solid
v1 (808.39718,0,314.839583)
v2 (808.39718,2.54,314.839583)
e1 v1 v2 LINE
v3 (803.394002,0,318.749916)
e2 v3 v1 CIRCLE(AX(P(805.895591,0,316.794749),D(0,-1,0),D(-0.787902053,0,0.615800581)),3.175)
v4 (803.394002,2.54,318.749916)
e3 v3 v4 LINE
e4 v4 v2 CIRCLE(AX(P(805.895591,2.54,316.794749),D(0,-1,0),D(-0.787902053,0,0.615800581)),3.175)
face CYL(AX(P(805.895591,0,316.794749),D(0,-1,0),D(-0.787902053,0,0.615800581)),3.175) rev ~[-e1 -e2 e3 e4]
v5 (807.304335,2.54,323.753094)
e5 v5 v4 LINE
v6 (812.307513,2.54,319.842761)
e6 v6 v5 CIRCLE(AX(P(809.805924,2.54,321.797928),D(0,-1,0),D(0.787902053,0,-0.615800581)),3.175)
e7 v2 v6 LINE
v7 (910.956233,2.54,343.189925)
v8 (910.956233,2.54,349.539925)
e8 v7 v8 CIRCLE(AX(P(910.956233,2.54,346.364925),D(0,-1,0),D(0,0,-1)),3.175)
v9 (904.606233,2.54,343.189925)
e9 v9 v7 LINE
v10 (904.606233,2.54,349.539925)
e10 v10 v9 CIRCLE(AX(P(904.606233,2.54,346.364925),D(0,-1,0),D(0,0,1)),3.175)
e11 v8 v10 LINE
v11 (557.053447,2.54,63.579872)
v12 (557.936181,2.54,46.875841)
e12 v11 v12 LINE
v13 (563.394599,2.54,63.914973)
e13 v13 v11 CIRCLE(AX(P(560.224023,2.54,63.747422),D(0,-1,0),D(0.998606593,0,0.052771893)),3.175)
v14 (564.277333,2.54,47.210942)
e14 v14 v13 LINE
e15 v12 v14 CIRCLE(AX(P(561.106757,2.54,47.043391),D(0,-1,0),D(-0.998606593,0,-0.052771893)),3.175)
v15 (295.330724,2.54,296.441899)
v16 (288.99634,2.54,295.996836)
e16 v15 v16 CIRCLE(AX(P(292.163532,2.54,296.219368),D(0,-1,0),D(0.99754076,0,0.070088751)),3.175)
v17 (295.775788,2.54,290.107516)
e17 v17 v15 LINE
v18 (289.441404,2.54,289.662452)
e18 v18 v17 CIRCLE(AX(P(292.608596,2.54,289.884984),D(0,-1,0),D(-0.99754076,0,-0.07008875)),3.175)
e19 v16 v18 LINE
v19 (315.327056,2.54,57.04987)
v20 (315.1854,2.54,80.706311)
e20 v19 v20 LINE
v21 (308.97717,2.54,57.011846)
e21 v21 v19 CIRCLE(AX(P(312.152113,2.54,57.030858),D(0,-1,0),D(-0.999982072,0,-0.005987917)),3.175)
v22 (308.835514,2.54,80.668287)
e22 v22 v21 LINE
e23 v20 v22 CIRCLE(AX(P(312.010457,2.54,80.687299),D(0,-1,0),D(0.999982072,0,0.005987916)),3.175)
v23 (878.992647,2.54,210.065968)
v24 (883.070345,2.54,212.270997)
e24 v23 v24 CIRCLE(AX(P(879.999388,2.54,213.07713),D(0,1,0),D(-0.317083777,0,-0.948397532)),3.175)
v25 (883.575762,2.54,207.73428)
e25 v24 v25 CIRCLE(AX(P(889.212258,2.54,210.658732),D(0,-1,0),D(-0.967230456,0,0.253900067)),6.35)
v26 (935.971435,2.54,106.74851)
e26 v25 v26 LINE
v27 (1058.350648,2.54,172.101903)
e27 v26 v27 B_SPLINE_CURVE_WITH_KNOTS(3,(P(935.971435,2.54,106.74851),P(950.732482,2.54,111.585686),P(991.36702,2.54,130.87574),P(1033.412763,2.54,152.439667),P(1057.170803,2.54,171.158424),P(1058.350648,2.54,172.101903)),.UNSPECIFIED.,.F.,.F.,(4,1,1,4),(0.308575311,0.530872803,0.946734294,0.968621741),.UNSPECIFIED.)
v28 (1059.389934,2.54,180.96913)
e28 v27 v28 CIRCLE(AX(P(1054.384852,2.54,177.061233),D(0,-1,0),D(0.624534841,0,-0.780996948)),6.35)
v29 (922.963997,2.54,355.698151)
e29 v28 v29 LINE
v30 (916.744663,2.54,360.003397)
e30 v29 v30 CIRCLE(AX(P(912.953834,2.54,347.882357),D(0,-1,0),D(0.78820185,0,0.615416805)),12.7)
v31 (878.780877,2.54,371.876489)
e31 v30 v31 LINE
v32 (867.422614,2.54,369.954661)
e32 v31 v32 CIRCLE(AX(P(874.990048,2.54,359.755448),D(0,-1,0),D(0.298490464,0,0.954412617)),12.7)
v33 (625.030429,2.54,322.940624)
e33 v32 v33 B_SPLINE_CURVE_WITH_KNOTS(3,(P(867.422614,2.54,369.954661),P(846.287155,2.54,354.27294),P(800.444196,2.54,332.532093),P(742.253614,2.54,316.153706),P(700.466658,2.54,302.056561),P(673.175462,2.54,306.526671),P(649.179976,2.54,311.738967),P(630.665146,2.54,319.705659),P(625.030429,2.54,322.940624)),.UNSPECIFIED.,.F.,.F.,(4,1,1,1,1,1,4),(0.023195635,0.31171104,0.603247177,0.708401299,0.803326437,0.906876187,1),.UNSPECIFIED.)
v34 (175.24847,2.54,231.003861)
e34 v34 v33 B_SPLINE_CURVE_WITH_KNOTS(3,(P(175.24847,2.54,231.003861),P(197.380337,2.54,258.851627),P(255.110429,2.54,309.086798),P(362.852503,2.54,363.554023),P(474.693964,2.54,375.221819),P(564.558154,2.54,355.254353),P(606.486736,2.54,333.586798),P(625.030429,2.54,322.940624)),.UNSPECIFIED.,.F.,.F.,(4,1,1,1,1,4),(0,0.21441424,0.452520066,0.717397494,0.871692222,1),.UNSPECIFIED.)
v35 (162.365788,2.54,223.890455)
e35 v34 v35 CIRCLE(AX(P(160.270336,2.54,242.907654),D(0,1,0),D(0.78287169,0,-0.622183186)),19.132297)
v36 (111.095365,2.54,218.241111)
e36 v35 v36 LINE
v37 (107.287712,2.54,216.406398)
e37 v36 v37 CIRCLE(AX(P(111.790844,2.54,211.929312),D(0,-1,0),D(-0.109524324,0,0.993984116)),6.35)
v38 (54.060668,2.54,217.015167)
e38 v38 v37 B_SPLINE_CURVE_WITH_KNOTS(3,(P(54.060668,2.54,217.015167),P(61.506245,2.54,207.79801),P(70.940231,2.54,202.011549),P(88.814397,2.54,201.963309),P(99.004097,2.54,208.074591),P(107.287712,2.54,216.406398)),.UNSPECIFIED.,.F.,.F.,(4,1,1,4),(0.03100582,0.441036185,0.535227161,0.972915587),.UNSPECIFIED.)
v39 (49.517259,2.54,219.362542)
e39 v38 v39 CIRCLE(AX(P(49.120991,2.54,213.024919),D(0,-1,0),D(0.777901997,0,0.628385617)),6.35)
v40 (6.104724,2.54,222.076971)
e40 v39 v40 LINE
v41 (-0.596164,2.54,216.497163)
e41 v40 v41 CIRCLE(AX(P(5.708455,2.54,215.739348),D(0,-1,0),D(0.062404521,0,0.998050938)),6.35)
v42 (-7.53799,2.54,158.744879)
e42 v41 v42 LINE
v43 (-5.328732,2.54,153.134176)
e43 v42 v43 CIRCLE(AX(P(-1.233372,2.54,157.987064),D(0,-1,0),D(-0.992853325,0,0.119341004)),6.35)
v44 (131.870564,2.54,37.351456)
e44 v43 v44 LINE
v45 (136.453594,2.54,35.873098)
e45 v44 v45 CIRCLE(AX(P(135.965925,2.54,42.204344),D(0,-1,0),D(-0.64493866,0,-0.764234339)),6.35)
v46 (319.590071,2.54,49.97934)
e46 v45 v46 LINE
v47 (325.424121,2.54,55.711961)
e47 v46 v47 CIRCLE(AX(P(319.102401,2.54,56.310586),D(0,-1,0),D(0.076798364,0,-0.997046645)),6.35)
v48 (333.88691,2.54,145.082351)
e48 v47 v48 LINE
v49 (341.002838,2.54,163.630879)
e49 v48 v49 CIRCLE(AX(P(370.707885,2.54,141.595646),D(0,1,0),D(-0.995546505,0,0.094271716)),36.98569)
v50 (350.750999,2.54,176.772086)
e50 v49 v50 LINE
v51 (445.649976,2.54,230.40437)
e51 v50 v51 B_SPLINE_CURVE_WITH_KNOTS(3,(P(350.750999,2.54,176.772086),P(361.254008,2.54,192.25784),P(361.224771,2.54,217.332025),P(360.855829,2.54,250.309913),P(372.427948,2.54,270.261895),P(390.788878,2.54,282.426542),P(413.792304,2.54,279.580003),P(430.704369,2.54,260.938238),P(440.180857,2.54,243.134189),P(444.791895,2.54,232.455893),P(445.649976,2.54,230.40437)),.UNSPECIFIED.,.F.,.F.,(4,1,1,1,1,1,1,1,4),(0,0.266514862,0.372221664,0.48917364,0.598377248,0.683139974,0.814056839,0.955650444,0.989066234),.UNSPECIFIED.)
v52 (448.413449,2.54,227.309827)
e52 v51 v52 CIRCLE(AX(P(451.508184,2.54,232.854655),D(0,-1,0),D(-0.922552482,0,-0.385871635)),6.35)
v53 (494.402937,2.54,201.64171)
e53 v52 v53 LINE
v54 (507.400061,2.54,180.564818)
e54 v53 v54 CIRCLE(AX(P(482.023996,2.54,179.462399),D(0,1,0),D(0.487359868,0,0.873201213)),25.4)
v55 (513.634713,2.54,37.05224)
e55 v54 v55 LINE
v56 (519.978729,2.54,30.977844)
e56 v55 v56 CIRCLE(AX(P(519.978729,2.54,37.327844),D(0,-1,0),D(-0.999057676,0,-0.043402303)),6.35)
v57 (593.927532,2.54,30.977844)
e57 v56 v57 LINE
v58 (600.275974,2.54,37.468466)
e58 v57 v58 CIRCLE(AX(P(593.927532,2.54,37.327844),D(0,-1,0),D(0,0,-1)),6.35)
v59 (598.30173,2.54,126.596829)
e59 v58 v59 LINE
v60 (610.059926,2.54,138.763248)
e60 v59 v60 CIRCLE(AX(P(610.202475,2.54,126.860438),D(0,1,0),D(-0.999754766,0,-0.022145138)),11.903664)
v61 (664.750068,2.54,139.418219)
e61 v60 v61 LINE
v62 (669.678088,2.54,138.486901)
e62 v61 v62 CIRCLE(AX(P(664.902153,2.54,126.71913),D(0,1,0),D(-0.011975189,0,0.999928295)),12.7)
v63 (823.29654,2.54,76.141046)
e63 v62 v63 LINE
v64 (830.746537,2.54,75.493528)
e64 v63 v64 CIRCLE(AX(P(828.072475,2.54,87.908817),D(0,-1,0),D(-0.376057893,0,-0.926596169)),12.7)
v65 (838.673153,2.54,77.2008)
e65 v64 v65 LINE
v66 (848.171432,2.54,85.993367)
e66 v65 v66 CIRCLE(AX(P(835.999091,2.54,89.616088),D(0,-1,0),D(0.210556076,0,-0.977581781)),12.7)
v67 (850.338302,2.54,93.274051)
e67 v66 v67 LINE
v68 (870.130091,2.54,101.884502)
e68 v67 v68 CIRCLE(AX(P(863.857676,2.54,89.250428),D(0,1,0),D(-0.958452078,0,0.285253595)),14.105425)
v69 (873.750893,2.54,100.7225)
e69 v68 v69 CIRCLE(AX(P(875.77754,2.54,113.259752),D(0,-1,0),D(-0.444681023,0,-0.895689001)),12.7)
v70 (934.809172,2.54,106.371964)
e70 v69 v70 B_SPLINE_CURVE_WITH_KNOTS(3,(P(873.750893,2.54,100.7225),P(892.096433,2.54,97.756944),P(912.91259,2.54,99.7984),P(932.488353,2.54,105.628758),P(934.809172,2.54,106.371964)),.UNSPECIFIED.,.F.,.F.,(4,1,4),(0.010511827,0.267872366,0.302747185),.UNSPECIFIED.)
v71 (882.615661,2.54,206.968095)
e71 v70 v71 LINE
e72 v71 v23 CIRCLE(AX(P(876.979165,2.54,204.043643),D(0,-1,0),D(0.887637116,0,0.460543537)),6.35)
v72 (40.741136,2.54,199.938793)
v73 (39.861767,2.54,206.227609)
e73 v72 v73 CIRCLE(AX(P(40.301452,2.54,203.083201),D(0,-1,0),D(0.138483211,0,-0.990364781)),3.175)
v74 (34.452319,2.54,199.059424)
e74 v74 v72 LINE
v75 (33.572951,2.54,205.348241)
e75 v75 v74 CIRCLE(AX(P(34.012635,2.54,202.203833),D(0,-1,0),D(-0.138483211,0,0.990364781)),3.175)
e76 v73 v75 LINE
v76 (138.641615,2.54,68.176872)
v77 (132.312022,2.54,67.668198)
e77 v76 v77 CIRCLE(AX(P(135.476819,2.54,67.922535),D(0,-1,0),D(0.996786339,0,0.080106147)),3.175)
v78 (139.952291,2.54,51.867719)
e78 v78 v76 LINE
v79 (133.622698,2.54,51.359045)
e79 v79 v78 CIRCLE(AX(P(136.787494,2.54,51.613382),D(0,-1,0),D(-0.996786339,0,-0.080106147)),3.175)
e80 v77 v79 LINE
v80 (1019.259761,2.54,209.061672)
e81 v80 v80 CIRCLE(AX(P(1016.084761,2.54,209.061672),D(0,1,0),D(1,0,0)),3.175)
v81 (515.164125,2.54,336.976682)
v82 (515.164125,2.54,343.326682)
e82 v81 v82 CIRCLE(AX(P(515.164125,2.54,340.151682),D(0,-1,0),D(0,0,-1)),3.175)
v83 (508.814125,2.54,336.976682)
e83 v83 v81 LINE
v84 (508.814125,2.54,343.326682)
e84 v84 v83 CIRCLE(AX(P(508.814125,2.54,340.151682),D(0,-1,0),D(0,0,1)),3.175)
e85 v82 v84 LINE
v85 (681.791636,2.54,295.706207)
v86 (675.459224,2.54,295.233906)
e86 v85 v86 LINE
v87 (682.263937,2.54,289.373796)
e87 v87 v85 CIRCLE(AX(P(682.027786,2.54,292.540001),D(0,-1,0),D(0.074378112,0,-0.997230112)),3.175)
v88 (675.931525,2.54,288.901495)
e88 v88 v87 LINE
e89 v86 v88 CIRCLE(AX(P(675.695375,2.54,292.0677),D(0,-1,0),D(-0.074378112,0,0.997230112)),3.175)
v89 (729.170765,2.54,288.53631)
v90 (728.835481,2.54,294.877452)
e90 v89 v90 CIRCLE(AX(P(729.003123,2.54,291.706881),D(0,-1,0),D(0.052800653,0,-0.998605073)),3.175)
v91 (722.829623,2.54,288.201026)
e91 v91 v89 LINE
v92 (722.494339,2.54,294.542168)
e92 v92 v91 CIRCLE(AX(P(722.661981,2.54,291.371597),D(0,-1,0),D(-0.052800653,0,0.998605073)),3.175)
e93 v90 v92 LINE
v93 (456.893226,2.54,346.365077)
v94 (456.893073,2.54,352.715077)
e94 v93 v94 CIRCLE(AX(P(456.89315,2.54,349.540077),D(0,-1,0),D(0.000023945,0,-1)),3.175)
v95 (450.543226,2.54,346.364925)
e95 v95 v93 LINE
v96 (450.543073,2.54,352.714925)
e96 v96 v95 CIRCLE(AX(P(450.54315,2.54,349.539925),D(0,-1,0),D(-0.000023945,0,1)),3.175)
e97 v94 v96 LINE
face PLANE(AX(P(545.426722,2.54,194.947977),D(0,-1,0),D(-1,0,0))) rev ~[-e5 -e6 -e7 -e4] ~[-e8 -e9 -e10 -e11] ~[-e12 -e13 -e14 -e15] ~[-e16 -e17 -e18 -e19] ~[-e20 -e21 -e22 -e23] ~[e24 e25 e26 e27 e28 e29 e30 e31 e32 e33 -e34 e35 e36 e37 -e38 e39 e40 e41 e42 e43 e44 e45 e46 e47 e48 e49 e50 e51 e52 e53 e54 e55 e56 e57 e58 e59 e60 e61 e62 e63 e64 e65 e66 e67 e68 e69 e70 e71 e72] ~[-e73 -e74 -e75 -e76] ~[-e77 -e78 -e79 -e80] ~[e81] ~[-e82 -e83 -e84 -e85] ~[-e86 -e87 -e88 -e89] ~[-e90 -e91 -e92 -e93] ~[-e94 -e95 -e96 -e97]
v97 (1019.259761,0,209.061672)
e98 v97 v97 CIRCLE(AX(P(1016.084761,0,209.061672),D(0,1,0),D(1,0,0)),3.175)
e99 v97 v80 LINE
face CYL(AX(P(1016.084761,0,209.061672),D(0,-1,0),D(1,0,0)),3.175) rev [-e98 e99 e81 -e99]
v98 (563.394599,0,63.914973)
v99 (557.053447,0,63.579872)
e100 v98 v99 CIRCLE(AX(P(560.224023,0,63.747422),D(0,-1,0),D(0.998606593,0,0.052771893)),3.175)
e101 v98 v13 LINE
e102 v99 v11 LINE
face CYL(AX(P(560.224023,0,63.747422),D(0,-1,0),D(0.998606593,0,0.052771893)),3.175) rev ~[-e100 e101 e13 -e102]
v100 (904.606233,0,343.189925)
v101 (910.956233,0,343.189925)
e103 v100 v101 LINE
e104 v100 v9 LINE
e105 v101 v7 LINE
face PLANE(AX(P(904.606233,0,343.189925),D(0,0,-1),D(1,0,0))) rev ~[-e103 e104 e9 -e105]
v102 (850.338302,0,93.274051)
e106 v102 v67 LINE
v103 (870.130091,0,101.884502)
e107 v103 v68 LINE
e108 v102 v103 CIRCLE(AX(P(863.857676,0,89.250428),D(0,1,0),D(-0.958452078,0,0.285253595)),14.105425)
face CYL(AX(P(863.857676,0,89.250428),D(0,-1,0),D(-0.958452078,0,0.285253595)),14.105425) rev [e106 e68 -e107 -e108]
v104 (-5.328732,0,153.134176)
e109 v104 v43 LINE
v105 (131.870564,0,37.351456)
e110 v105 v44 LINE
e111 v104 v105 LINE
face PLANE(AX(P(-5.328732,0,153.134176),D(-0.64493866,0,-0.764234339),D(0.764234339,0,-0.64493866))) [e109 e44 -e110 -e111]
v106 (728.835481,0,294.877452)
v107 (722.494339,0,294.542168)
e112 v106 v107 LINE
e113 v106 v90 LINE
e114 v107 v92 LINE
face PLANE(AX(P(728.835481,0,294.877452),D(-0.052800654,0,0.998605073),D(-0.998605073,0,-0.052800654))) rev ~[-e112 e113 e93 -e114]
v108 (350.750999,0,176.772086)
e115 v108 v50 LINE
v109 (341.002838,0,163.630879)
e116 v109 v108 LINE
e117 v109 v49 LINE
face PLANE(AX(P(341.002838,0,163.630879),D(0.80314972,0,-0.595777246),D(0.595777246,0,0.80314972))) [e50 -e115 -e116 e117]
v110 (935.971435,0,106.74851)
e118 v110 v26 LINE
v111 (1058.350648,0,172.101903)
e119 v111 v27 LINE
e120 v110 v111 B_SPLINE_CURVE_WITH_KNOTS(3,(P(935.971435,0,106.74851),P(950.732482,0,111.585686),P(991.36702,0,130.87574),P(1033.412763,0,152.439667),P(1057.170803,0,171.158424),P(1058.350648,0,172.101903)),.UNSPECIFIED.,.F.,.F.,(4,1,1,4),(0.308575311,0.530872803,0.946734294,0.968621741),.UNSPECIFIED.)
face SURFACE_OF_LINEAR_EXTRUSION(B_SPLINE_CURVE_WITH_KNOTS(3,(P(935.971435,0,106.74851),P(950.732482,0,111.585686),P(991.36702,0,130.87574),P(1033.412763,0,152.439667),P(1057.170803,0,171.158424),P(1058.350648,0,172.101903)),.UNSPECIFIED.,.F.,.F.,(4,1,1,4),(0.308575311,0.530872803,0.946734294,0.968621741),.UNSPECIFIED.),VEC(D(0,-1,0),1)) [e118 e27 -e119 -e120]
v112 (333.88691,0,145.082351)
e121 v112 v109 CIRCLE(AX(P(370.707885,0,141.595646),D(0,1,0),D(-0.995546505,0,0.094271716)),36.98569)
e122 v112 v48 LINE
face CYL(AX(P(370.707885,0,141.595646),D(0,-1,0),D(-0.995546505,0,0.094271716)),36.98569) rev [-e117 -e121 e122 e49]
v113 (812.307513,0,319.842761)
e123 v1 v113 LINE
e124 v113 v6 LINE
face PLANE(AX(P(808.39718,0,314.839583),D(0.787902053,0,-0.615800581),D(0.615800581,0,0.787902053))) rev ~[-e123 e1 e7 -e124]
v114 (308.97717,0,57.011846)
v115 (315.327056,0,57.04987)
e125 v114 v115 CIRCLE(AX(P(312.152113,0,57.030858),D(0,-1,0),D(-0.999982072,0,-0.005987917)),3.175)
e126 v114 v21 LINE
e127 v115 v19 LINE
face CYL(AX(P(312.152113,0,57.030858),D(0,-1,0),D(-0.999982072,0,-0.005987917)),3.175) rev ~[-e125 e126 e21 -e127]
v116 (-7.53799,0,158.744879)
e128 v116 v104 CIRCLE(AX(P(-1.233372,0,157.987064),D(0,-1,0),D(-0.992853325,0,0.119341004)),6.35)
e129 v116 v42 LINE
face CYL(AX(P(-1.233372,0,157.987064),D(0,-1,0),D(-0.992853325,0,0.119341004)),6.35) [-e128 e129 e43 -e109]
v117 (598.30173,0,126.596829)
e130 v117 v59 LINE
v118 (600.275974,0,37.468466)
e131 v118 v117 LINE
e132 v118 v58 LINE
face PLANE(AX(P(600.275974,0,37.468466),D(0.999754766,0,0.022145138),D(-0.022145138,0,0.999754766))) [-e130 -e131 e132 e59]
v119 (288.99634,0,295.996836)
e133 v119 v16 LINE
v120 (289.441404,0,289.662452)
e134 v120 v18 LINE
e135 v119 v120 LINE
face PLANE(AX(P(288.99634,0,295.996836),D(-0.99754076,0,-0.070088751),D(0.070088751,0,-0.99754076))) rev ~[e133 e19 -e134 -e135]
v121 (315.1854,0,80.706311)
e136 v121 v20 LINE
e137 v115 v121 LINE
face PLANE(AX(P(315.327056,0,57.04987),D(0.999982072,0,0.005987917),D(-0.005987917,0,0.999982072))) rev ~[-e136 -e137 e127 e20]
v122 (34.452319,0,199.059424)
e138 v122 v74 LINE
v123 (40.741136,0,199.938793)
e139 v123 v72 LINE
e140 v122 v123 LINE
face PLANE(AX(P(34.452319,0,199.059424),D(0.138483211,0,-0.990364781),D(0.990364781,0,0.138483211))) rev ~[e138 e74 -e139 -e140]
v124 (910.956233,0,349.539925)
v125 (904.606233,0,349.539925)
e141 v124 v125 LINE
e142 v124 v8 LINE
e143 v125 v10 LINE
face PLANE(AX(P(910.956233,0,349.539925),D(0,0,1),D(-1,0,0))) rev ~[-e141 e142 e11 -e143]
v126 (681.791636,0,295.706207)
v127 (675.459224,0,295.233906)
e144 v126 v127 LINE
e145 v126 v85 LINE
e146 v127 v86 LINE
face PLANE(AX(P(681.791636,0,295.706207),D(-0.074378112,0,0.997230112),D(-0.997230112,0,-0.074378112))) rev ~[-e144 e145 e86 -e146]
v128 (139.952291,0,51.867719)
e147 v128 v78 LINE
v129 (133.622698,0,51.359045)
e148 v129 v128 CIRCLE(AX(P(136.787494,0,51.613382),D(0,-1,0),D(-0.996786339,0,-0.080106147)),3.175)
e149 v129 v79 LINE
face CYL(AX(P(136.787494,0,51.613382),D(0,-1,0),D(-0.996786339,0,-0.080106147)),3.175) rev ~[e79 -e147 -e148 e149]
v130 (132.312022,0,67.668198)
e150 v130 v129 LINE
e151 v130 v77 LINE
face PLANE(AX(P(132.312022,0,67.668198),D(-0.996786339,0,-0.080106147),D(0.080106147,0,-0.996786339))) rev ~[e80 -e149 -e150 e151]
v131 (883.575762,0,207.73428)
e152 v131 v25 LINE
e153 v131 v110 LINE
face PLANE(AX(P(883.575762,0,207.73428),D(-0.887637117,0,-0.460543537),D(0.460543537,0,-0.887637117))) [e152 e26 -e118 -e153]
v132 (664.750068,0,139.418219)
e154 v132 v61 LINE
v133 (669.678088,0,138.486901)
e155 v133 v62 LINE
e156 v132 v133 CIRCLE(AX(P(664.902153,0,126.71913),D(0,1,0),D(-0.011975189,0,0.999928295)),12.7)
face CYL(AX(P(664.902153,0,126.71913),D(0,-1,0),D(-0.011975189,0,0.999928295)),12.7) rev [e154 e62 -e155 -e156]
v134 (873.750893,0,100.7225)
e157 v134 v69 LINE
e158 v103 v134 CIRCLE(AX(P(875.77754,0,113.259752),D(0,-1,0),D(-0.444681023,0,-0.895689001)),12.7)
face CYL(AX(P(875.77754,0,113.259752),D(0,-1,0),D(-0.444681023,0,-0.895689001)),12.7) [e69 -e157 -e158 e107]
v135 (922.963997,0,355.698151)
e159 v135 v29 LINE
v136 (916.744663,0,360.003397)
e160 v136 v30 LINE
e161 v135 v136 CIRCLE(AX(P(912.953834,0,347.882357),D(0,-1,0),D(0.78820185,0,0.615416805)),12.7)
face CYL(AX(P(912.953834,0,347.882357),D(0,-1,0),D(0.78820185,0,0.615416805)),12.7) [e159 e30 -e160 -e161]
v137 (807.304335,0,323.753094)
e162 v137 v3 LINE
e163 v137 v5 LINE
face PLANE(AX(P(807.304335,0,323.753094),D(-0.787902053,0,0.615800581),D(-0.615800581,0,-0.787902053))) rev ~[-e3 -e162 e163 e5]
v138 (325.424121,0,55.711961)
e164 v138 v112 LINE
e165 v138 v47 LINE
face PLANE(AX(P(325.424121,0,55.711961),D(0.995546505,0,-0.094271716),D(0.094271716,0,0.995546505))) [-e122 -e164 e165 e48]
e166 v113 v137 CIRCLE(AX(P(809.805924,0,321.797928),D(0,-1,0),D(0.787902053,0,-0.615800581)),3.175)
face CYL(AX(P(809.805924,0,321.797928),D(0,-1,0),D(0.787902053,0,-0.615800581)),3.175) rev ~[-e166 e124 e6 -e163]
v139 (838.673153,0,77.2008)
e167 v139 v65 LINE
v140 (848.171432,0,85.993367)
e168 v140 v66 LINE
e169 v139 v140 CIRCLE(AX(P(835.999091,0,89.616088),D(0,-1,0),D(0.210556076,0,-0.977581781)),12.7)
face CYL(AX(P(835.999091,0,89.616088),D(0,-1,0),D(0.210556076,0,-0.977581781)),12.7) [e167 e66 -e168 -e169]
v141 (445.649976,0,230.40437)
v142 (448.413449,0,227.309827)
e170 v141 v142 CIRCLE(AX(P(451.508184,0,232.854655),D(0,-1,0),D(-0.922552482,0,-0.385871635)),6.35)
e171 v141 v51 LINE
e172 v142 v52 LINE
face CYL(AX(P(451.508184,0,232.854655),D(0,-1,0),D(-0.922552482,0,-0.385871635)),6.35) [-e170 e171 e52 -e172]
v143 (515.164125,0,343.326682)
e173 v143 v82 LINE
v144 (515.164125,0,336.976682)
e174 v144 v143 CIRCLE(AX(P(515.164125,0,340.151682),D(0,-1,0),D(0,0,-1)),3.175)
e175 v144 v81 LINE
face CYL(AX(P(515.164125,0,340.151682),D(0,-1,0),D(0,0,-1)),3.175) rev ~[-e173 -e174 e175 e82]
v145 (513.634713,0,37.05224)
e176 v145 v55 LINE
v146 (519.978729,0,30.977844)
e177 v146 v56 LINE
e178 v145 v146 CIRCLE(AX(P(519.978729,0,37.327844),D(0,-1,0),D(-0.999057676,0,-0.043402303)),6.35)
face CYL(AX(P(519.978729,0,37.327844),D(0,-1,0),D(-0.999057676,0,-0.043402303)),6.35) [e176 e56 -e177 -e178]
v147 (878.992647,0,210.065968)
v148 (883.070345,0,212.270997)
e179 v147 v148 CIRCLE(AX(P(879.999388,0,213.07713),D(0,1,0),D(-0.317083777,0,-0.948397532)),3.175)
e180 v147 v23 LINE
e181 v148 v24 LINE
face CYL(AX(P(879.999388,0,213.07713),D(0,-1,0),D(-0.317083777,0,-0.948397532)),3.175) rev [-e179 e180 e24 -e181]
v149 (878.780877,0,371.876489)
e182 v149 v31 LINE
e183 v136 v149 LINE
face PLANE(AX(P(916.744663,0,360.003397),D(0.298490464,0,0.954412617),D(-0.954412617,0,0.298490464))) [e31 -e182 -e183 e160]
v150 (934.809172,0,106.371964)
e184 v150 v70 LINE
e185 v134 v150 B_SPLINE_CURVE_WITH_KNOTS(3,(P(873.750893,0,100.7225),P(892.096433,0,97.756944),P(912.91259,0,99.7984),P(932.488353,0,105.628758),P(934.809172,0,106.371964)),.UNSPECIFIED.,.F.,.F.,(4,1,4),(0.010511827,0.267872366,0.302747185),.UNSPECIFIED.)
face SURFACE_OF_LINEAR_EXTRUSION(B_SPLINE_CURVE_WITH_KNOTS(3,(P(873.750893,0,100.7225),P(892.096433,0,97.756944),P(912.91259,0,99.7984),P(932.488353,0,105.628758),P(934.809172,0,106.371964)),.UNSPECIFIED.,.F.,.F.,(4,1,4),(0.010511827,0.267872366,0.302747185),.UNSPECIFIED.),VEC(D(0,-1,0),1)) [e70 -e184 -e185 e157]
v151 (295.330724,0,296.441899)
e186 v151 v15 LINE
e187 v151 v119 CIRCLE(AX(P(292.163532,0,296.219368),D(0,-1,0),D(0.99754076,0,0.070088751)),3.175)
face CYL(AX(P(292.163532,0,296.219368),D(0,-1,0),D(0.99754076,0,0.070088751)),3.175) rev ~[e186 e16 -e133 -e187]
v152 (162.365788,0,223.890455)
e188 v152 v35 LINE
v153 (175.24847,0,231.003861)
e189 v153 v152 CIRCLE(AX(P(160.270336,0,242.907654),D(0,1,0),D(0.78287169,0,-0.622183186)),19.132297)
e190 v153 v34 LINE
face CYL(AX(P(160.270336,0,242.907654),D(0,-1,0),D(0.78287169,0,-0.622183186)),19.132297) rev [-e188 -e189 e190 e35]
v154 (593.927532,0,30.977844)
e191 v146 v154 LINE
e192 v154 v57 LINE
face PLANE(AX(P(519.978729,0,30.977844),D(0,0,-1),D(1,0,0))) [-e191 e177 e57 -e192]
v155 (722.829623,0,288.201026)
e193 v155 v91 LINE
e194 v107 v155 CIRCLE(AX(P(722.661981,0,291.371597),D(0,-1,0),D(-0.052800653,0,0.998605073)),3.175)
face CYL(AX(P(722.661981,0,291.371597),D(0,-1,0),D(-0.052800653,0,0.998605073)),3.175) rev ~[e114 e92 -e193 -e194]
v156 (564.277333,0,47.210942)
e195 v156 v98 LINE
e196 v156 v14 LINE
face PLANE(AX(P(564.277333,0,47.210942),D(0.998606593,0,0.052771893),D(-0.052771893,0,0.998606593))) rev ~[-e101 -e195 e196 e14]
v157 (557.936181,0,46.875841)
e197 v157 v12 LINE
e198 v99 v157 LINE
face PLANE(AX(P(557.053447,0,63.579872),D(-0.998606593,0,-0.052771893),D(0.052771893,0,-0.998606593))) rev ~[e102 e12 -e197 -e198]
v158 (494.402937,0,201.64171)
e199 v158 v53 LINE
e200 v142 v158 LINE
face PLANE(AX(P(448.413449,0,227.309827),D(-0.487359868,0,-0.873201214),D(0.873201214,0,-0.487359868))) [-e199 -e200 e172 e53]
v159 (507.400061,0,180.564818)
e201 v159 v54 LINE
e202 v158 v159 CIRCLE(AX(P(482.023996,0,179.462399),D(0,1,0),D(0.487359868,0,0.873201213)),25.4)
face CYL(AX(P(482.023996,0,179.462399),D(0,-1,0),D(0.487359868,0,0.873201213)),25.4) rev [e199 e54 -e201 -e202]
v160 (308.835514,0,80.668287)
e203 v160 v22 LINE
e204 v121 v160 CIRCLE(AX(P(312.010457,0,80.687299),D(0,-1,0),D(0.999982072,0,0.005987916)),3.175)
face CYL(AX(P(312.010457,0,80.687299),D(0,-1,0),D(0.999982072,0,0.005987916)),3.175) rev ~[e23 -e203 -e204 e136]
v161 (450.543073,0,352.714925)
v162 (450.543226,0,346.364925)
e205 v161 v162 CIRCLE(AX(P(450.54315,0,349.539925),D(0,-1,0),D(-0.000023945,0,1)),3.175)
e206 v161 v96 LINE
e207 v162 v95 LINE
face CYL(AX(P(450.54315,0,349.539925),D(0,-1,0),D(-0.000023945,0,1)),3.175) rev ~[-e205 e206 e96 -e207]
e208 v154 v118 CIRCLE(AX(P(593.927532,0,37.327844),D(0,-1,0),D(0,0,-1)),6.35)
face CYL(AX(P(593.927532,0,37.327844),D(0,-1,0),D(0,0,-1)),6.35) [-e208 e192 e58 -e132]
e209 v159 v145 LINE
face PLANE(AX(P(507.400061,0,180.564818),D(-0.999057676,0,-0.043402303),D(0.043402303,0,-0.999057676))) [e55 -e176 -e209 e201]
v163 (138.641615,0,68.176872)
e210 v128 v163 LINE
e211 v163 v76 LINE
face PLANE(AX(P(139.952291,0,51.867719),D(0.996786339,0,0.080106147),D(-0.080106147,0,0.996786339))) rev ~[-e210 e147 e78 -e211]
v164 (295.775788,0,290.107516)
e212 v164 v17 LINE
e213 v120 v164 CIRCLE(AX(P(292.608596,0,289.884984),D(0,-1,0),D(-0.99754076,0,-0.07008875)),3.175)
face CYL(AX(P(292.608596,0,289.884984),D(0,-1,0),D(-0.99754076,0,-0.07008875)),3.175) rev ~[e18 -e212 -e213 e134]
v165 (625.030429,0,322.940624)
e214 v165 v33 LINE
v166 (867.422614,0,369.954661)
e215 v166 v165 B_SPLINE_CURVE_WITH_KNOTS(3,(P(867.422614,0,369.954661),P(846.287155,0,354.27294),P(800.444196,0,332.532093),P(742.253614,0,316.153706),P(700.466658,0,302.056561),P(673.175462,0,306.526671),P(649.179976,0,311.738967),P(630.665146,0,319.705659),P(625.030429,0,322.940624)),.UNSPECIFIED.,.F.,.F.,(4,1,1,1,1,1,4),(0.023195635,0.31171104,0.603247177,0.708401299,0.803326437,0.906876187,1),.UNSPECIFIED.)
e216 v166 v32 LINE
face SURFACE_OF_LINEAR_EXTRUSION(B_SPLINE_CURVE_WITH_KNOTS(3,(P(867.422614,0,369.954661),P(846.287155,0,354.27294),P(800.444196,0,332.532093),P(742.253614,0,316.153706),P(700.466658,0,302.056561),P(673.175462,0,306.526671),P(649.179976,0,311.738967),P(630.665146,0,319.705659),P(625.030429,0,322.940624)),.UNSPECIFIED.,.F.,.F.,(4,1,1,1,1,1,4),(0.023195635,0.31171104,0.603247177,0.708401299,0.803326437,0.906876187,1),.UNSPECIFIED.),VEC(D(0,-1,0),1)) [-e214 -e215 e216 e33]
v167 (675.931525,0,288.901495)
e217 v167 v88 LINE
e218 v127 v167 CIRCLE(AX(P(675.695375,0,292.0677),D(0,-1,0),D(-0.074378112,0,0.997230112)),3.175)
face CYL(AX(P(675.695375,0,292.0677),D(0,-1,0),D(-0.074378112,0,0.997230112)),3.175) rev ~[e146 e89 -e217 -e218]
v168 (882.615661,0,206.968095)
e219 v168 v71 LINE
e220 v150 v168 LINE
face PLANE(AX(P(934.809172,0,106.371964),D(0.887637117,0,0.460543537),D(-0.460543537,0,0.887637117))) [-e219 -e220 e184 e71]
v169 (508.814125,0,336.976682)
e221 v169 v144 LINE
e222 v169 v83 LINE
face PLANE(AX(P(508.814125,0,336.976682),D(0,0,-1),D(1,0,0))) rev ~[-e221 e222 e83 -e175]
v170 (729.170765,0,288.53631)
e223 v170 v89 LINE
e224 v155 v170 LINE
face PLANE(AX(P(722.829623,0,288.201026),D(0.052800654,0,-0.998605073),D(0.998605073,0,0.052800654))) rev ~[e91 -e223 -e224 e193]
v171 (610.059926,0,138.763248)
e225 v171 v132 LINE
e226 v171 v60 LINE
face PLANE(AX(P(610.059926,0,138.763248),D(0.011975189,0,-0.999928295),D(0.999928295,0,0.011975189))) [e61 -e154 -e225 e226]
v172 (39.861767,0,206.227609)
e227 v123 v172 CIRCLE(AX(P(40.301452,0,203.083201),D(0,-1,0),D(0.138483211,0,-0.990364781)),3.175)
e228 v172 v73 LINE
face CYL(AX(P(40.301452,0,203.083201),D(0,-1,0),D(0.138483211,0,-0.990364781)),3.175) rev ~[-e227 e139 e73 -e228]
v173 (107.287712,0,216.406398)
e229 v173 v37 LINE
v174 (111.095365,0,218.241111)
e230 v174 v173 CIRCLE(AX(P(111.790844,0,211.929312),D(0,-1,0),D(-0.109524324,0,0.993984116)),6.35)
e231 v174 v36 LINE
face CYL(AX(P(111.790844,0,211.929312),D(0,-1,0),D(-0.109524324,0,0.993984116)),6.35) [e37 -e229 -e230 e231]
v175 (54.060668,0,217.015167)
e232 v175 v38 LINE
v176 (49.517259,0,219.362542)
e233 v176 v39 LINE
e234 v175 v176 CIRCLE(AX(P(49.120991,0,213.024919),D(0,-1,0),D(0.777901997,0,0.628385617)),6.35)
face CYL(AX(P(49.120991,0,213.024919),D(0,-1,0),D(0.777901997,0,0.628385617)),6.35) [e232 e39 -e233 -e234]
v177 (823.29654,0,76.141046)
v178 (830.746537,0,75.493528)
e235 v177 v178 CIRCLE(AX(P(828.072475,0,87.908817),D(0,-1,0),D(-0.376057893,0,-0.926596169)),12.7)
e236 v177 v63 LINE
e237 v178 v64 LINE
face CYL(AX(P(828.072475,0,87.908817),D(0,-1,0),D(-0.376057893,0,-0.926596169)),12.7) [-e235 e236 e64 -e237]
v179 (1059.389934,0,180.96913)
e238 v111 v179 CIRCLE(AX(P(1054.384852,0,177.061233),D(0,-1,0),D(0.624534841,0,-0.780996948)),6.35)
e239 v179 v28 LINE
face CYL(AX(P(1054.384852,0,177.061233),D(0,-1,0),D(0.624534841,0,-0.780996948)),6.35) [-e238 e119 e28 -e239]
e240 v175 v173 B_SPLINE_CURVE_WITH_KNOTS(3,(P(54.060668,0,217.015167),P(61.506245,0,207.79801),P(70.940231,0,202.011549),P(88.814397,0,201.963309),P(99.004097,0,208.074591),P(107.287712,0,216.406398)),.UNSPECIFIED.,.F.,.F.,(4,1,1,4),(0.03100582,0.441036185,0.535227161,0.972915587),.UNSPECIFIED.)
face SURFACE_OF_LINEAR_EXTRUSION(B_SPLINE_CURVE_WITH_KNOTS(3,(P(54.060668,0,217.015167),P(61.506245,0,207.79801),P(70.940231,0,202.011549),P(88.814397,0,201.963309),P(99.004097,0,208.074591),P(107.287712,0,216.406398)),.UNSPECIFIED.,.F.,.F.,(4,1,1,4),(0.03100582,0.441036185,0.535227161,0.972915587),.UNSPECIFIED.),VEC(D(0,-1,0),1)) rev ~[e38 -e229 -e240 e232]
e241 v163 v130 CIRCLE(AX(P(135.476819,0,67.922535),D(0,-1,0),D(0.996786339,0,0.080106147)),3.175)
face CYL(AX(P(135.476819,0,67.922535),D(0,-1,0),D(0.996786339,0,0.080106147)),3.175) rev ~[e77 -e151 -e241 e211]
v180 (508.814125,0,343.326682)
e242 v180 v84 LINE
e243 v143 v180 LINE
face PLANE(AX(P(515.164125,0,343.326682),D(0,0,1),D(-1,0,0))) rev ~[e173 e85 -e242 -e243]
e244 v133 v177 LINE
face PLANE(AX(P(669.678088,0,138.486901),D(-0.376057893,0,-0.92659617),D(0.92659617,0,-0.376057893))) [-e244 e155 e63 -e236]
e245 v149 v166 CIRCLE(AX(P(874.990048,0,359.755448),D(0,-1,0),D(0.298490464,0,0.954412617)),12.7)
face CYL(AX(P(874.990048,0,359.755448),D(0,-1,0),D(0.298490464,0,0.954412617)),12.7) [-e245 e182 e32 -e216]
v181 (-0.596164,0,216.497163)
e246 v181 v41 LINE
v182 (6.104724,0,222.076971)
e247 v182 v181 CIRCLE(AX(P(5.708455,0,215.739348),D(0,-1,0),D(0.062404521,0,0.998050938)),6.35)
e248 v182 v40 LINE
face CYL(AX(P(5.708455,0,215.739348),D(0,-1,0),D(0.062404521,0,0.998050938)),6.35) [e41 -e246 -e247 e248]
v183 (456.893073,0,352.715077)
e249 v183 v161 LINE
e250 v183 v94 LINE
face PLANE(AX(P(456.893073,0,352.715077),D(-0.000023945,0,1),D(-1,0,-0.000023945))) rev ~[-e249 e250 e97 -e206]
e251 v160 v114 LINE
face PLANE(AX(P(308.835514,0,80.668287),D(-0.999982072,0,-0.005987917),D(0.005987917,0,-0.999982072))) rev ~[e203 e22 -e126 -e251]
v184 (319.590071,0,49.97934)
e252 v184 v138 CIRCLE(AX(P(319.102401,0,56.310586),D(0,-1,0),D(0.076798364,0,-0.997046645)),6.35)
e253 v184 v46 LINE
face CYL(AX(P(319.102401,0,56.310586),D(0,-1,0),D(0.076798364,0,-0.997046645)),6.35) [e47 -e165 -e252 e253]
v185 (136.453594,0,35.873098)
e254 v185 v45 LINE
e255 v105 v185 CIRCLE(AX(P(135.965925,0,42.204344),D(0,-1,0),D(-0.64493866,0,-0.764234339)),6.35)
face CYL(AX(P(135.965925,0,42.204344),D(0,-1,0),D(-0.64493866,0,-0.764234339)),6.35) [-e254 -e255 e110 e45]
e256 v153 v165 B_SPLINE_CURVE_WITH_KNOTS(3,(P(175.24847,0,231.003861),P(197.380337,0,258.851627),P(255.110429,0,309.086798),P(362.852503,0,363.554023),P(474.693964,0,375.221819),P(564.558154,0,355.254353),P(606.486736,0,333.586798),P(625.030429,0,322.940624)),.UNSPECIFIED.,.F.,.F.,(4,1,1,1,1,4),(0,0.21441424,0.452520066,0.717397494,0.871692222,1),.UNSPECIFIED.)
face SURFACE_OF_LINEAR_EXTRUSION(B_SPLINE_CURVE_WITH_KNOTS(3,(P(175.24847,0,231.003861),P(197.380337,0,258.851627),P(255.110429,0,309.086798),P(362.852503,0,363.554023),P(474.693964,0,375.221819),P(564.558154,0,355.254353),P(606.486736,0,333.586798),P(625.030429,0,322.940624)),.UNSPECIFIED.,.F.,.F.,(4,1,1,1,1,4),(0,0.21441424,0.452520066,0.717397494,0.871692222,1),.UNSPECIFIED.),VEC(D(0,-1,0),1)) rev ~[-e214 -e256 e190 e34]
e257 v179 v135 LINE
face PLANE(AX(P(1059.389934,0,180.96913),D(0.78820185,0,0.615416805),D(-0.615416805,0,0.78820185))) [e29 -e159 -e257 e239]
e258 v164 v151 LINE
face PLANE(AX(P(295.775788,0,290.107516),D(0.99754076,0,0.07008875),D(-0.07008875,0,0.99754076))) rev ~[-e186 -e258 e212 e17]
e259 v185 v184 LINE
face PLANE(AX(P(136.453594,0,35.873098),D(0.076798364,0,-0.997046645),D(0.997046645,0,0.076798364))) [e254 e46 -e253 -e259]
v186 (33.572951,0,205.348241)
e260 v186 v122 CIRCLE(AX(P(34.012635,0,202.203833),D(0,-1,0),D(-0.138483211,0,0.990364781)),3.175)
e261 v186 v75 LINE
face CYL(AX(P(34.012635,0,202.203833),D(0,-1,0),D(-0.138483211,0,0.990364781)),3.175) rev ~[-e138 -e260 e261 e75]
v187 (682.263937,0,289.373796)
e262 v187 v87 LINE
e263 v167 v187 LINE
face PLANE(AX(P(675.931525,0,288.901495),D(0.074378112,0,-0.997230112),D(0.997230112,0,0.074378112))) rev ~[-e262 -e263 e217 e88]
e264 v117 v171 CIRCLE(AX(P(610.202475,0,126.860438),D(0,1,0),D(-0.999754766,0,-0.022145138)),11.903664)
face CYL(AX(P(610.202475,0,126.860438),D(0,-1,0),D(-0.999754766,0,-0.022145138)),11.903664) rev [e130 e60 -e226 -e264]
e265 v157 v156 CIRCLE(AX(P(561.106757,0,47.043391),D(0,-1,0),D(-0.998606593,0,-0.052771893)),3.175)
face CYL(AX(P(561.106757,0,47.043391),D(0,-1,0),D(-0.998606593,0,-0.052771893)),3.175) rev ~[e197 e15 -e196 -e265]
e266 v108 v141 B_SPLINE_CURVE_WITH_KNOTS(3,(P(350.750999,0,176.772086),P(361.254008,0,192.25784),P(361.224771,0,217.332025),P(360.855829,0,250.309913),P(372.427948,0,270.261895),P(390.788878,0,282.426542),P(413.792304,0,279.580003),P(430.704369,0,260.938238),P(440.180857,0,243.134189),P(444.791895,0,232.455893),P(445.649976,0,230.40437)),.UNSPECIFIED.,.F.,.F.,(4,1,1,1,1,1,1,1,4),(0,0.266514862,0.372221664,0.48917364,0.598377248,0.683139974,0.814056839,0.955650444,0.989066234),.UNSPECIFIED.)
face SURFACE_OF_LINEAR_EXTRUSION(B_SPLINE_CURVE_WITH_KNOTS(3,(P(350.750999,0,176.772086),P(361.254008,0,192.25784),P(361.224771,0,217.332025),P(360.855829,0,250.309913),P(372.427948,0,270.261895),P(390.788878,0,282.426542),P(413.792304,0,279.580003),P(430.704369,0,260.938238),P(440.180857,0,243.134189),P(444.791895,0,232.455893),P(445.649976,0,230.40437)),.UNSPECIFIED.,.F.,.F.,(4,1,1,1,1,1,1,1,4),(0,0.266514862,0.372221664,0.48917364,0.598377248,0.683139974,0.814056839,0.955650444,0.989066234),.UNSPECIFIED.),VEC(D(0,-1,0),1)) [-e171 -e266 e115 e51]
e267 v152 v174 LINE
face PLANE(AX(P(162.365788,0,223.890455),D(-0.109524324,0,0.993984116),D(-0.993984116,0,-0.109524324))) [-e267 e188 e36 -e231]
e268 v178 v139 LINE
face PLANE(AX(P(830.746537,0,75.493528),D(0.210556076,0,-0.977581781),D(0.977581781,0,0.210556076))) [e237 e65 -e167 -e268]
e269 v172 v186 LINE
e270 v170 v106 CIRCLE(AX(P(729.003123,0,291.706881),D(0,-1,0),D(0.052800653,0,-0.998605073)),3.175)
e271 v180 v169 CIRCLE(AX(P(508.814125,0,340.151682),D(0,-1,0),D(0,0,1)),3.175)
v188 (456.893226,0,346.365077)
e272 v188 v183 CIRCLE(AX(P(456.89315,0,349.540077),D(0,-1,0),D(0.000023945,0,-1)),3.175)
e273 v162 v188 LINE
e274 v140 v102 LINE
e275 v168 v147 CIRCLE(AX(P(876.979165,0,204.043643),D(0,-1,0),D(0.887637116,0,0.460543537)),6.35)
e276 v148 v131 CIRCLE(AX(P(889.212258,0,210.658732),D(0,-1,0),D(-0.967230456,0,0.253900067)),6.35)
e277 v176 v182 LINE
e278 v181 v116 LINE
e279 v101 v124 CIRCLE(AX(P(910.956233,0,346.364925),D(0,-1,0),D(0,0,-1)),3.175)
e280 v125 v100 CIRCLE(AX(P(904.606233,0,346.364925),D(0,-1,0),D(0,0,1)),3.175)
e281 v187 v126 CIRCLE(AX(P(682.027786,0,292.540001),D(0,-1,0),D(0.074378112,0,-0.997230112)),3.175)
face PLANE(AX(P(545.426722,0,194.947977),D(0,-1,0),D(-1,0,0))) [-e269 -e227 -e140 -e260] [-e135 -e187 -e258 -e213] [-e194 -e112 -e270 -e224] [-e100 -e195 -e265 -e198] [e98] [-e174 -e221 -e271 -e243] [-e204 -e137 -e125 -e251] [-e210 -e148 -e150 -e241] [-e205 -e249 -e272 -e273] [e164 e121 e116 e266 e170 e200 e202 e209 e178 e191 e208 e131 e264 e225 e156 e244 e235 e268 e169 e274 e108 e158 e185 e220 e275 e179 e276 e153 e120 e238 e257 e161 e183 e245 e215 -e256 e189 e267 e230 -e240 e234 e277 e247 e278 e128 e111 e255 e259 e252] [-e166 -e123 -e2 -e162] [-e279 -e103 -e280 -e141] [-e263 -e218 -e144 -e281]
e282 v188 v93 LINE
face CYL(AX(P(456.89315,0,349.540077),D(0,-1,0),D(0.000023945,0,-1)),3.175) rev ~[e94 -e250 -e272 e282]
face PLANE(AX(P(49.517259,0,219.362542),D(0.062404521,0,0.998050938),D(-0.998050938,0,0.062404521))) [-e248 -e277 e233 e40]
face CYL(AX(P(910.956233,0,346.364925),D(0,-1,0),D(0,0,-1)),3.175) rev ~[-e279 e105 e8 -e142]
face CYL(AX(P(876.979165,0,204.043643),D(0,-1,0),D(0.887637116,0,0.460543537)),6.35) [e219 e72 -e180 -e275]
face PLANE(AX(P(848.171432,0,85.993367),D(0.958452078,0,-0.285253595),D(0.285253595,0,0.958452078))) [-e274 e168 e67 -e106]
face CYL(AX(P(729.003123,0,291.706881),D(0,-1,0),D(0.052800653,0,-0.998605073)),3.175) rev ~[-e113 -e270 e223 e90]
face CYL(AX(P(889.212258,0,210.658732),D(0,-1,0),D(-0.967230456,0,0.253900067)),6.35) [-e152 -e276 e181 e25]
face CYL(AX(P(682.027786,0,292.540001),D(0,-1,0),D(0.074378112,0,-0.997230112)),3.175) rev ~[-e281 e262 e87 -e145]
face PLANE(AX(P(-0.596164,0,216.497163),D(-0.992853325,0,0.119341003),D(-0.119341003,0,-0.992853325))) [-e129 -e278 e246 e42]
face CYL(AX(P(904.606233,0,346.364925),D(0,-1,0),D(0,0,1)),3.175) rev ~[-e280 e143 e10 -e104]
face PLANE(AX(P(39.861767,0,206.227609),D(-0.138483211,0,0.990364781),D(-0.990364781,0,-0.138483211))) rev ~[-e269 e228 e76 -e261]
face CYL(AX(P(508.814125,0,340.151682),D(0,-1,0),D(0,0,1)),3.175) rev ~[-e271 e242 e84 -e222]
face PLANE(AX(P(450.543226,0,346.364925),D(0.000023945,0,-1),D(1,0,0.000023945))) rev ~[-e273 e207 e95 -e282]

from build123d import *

# Parameters (mm, degrees)
SKETCH1_R           = 3.175
BOSS_EXTRUDE1_DEPTH = 2.54


with BuildPart() as part:
    # Sketch1 → Boss-Extrude1 (new body)
    with BuildSketch(Plane(origin=(0, 0, 0), x_dir=(1, 0, 0), z_dir=(0, 1, 0))):
        with BuildLine():
            Line((-5.328732107, -153.134175754), (131.870564369, -37.351455769))
            ThreePointArc((131.870564369, -37.351455769), (134.01650339, -36.160979201), (136.453594472, -35.873097628))
            Line((136.453594472, -35.873097628), (319.590070529, -49.979340099))
            ThreePointArc((319.590070529, -49.979340099), (323.552983246, -51.781257759), (325.424121225, -55.711960892))
            Line((325.424121225, -55.711960892), (333.886910239, -145.082350554))
            ThreePointArc((333.886910239, -145.082350554), (336.176162445, -154.84334125), (341.002838156, -163.630878822))
            Line((341.002838156, -163.630878822), (350.750998724, -176.772086359))
            add(Edge.make_bspline(
                [(350.750998724, -176.772086359), (361.254007891, -192.257840243), (361.224771118, -217.332024569), (360.855829019, -250.309912971), (372.427947549, -270.261895133), (390.7888777, -282.426542016), (413.792303889, -279.580003461), (430.70436873, -260.938238037), (440.180857261, -243.134188782), (444.791894874, -232.455892984), (445.649975599, -230.404370069)],
                knots=[0, 0, 0, 0, 0.266514862, 0.372221664, 0.48917364, 0.598377248, 0.683139974, 0.814056839, 0.955650444, 0.989066234, 0.989066234, 0.989066234, 0.989066234], degree=3))
            ThreePointArc((445.649975599, -230.404370069), (446.771851121, -228.625038868), (448.413448697, -227.309827246))
            Line((448.413448697, -227.309827246), (494.402937053, -201.641710193))
            ThreePointArc((494.402937053, -201.641710193), (503.643870594, -192.794354978), (507.400061385, -180.564817875))
            Line((507.400061385, -180.564817875), (513.634712908, -37.052239756))
            ThreePointArc((513.634712908, -37.052239756), (515.587122917, -32.741310322), (519.978729151, -30.977844382))
            Line((519.978729151, -30.977844382), (593.927531637, -30.977844382))
            ThreePointArc((593.927531637, -30.977844382), (598.467104708, -32.887711914), (600.275974403, -37.468466009))
            Line((600.275974403, -37.468466009), (598.301730334, -126.596829392))
            ThreePointArc((598.301730334, -126.596829392), (601.642938503, -135.132773839), (610.059926064, -138.763247642))
            Line((610.059926064, -138.763247642), (664.750068331, -139.418219406))
            ThreePointArc((664.750068331, -139.418219406), (667.260507803, -139.198239153), (669.678088468, -138.486901414))
            Line((669.678088468, -138.486901414), (823.296539759, -76.141045752))
            ThreePointArc((823.296539759, -76.141045752), (826.972799017, -75.256516415), (830.746537158, -75.493528484))
            Line((830.746537158, -75.493528484), (838.673152681, -77.20079952))
            ThreePointArc((838.673152681, -77.20079952), (844.626444545, -80.29628329), (848.171431913, -85.993367487))
            Line((848.171431913, -85.993367487), (850.338302031, -93.274051085))
            ThreePointArc((850.338302031, -93.274051085), (858.23054785, -102.184817829), (870.130090629, -101.884501868))
            ThreePointArc((870.130090629, -101.884501868), (871.896754018, -101.167213038), (873.750893351, -100.722499501))
            add(Edge.make_bspline(
                [(873.750893351, -100.722499501), (892.096433354, -97.756943861), (912.912589872, -99.798399536), (932.488353192, -105.62875763), (934.809172036, -106.371963633)],
                knots=[0.010511827, 0.010511827, 0.010511827, 0.010511827, 0.267872366, 0.302747185, 0.302747185, 0.302747185, 0.302747185], degree=3))
            Line((934.809172036, -106.371963633), (882.615660581, -206.968094745))
            ThreePointArc((882.615660581, -206.968094745), (881.105875891, -208.869900254), (878.992646876, -210.065967613))
            ThreePointArc((878.992646876, -210.065967613), (878.489160952, -215.86994908), (883.070344568, -212.270997063))
            ThreePointArc((883.070344568, -212.270997063), (882.901300813, -209.955652828), (883.575762276, -207.734280177))
            Line((883.575762276, -207.734280177), (935.971434794, -106.748510195))
            add(Edge.make_bspline(
                [(935.971434794, -106.748510195), (950.732481632, -111.585686242), (991.367020242, -130.875740155), (1033.412762935, -152.439666647), (1057.170803482, -171.158423794), (1058.350648436, -172.101902874)],
                knots=[0.308575311, 0.308575311, 0.308575311, 0.308575311, 0.530872803, 0.946734294, 0.968621741, 0.968621741, 0.968621741, 0.968621741], degree=3))
            ThreePointArc((1058.350648436, -172.101902874), (1060.691681279, -176.322040076), (1059.389933942, -180.969130202))
            Line((1059.389933942, -180.969130202), (922.963997481, -355.698150672))
            ThreePointArc((922.963997481, -355.698150672), (920.182294073, -358.32454882), (916.744662876, -360.003397483))
            Line((916.744662876, -360.003397483), (878.780877379, -371.876488575))
            ThreePointArc((878.780877379, -371.876488575), (872.871312281, -372.277467224), (867.422613931, -369.954660772))
            add(Edge.make_bspline(
                [(867.422613931, -369.954660772), (846.287154527, -354.272939559), (800.444195607, -332.532093148), (742.253613961, -316.153706207), (700.466658175, -302.056561208), (673.17546172, -306.526671401), (649.179975603, -311.738966724), (630.665146068, -319.705659181), (625.030428531, -322.940623693)],
                knots=[0.023195635, 0.023195635, 0.023195635, 0.023195635, 0.31171104, 0.603247177, 0.708401299, 0.803326437, 0.906876187, 1, 1, 1, 1], degree=3))
            add(Edge.make_bspline(
                [(175.248469653, -231.003860858), (197.380336727, -258.851627497), (255.11042876, -309.086797785), (362.852502627, -363.554023086), (474.693963793, -375.221818546), (564.558153938, -355.25435272), (606.486736204, -333.586798272), (625.030428531, -322.940623693)],
                knots=[0, 0, 0, 0, 0.21441424, 0.452520066, 0.717397494, 0.871692222, 1, 1, 1, 1], degree=3))
            ThreePointArc((175.248469653, -231.003860858), (169.518415151, -226.15898818), (162.365788091, -223.890455172))
            Line((162.365788091, -223.890455172), (111.09536502, -218.24111094))
            ThreePointArc((111.09536502, -218.24111094), (109.034409441, -217.649850756), (107.287712169, -216.406397845))
            add(Edge.make_bspline(
                [(54.060668227, -217.015167221), (61.506245344, -207.798009547), (70.940230728, -202.011548504), (88.814397056, -201.963309183), (99.004096683, -208.074590907), (107.287712169, -216.406397845)],
                knots=[0.03100582, 0.03100582, 0.03100582, 0.03100582, 0.441036185, 0.535227161, 0.972915587, 0.972915587, 0.972915587, 0.972915587], degree=3))
            ThreePointArc((54.060668227, -217.015167221), (52.03571576, -218.66644999), (49.517259254, -219.362542015))
            Line((49.517259254, -219.362542015), (6.104723568, -222.076971093))
            ThreePointArc((6.104723568, -222.076971093), (1.645117042, -220.619079776), (-0.596163753, -216.497163005))
            Line((-0.596163753, -216.497163005), (-7.537990228, -158.744879177))
            ThreePointArc((-7.537990228, -158.744879177), (-7.141830769, -155.660562049), (-5.328732107, -153.134175754))
        make_face()
        with Locations((1016.084761128, -209.061672342)):
            Circle(SKETCH1_R, mode=Mode.SUBTRACT)
        with BuildLine():
            Line((34.452319344, -199.059424349), (40.741135706, -199.938792739))
            ThreePointArc((40.741135706, -199.938792739), (43.445859692, -203.522885115), (39.861767317, -206.227609101))
            Line((39.861767317, -206.227609101), (33.572950955, -205.348240711))
            ThreePointArc((33.572950955, -205.348240711), (30.868226968, -201.764148336), (34.452319344, -199.059424349))
        make_face(mode=Mode.SUBTRACT)
        with BuildLine():
            Line((132.312022067, -67.668198353), (133.62269754, -51.359045332))
            ThreePointArc((133.62269754, -51.359045332), (137.041831182, -48.448585723), (139.952290792, -51.867719365))
            Line((139.952290792, -51.867719365), (138.641615318, -68.176872385))
            ThreePointArc((138.641615318, -68.176872385), (135.222481677, -71.087331995), (132.312022067, -67.668198353))
        make_face(mode=Mode.SUBTRACT)
        with BuildLine():
            Line((315.32705573, -57.049869646), (315.185400395, -80.706310601))
            ThreePointArc((315.185400395, -80.706310601), (311.991445681, -83.862242046), (308.835514236, -80.668287331))
            Line((308.835514236, -80.668287331), (308.977169572, -57.011846375))
            ThreePointArc((308.977169572, -57.011846375), (312.171124286, -53.855914931), (315.32705573, -57.049869646))
        make_face(mode=Mode.SUBTRACT)
        with BuildLine():
            Line((288.996340245, -295.9968359), (289.441403811, -289.662452076))
            ThreePointArc((289.441403811, -289.662452076), (292.831127505, -286.717791947), (295.775787634, -290.107515642))
            Line((295.775787634, -290.107515642), (295.330724069, -296.441899465))
            ThreePointArc((295.330724069, -296.441899465), (291.941000374, -299.386559594), (288.996340245, -295.9968359))
        make_face(mode=Mode.SUBTRACT)
        with BuildLine():
            Line((450.543225531, -346.364924897), (456.893225529, -346.365076948))
            ThreePointArc((456.893225529, -346.365076948), (460.068149503, -349.540152973), (456.893073478, -352.715076946))
            Line((456.893073478, -352.715076946), (450.54307348, -352.714924895))
            ThreePointArc((450.54307348, -352.714924895), (447.368149506, -349.53984887), (450.543225531, -346.364924897))
        make_face(mode=Mode.SUBTRACT)
        with BuildLine():
            Line((508.814125295, -336.976681521), (515.164125295, -336.976681521))
            ThreePointArc((515.164125295, -336.976681521), (518.339125295, -340.151681521), (515.164125295, -343.326681521))
            Line((515.164125295, -343.326681521), (508.814125295, -343.326681521))
            ThreePointArc((508.814125295, -343.326681521), (505.639125295, -340.151681521), (508.814125295, -336.976681521))
        make_face(mode=Mode.SUBTRACT)
        with BuildLine():
            Line((675.931525392, -288.901494682), (682.263936604, -289.373795695))
            ThreePointArc((682.263936604, -289.373795695), (685.193991703, -292.776151808), (681.79163559, -295.706206907))
            Line((681.79163559, -295.706206907), (675.459224378, -295.233905893))
            ThreePointArc((675.459224378, -295.233905893), (672.529169279, -291.831549781), (675.931525392, -288.901494682))
        make_face(mode=Mode.SUBTRACT)
        with BuildLine():
            Line((722.829623025, -288.201025659), (729.170765235, -288.536309809))
            ThreePointArc((729.170765235, -288.536309809), (732.173694266, -291.874522989), (728.835481086, -294.87745202))
            Line((728.835481086, -294.87745202), (722.494338875, -294.54216787))
            ThreePointArc((722.494338875, -294.54216787), (719.491409844, -291.20395469), (722.829623025, -288.201025659))
        make_face(mode=Mode.SUBTRACT)
        with BuildLine():
            Line((808.397179729, -314.839582631), (812.307513416, -319.842760667))
            ThreePointArc((812.307513416, -319.842760667), (811.761091241, -324.299516528), (807.30433538, -323.753094353))
            Line((807.30433538, -323.753094353), (803.394001693, -318.749916318))
            ThreePointArc((803.394001693, -318.749916318), (803.940423868, -314.293160456), (808.397179729, -314.839582631))
        make_face(mode=Mode.SUBTRACT)
        with BuildLine():
            Line((904.60623328, -343.189924897), (910.95623328, -343.189924897))
            ThreePointArc((910.95623328, -343.189924897), (914.13123328, -346.364924897), (910.95623328, -349.539924897))
            Line((910.95623328, -349.539924897), (904.60623328, -349.539924897))
            ThreePointArc((904.60623328, -349.539924897), (901.43123328, -346.364924897), (904.60623328, -343.189924897))
        make_face(mode=Mode.SUBTRACT)
        with BuildLine():
            Line((557.053447319, -63.579871739), (557.936180672, -46.875840582))
            ThreePointArc((557.936180672, -46.875840582), (561.274307365, -43.872815411), (564.277332537, -47.210942104))
            Line((564.277332537, -47.210942104), (563.394599183, -63.914973261))
            ThreePointArc((563.394599183, -63.914973261), (560.05647249, -66.917998432), (557.053447319, -63.579871739))
        make_face(mode=Mode.SUBTRACT)
    extrude(amount=BOSS_EXTRUDE1_DEPTH)


solid = part.part
